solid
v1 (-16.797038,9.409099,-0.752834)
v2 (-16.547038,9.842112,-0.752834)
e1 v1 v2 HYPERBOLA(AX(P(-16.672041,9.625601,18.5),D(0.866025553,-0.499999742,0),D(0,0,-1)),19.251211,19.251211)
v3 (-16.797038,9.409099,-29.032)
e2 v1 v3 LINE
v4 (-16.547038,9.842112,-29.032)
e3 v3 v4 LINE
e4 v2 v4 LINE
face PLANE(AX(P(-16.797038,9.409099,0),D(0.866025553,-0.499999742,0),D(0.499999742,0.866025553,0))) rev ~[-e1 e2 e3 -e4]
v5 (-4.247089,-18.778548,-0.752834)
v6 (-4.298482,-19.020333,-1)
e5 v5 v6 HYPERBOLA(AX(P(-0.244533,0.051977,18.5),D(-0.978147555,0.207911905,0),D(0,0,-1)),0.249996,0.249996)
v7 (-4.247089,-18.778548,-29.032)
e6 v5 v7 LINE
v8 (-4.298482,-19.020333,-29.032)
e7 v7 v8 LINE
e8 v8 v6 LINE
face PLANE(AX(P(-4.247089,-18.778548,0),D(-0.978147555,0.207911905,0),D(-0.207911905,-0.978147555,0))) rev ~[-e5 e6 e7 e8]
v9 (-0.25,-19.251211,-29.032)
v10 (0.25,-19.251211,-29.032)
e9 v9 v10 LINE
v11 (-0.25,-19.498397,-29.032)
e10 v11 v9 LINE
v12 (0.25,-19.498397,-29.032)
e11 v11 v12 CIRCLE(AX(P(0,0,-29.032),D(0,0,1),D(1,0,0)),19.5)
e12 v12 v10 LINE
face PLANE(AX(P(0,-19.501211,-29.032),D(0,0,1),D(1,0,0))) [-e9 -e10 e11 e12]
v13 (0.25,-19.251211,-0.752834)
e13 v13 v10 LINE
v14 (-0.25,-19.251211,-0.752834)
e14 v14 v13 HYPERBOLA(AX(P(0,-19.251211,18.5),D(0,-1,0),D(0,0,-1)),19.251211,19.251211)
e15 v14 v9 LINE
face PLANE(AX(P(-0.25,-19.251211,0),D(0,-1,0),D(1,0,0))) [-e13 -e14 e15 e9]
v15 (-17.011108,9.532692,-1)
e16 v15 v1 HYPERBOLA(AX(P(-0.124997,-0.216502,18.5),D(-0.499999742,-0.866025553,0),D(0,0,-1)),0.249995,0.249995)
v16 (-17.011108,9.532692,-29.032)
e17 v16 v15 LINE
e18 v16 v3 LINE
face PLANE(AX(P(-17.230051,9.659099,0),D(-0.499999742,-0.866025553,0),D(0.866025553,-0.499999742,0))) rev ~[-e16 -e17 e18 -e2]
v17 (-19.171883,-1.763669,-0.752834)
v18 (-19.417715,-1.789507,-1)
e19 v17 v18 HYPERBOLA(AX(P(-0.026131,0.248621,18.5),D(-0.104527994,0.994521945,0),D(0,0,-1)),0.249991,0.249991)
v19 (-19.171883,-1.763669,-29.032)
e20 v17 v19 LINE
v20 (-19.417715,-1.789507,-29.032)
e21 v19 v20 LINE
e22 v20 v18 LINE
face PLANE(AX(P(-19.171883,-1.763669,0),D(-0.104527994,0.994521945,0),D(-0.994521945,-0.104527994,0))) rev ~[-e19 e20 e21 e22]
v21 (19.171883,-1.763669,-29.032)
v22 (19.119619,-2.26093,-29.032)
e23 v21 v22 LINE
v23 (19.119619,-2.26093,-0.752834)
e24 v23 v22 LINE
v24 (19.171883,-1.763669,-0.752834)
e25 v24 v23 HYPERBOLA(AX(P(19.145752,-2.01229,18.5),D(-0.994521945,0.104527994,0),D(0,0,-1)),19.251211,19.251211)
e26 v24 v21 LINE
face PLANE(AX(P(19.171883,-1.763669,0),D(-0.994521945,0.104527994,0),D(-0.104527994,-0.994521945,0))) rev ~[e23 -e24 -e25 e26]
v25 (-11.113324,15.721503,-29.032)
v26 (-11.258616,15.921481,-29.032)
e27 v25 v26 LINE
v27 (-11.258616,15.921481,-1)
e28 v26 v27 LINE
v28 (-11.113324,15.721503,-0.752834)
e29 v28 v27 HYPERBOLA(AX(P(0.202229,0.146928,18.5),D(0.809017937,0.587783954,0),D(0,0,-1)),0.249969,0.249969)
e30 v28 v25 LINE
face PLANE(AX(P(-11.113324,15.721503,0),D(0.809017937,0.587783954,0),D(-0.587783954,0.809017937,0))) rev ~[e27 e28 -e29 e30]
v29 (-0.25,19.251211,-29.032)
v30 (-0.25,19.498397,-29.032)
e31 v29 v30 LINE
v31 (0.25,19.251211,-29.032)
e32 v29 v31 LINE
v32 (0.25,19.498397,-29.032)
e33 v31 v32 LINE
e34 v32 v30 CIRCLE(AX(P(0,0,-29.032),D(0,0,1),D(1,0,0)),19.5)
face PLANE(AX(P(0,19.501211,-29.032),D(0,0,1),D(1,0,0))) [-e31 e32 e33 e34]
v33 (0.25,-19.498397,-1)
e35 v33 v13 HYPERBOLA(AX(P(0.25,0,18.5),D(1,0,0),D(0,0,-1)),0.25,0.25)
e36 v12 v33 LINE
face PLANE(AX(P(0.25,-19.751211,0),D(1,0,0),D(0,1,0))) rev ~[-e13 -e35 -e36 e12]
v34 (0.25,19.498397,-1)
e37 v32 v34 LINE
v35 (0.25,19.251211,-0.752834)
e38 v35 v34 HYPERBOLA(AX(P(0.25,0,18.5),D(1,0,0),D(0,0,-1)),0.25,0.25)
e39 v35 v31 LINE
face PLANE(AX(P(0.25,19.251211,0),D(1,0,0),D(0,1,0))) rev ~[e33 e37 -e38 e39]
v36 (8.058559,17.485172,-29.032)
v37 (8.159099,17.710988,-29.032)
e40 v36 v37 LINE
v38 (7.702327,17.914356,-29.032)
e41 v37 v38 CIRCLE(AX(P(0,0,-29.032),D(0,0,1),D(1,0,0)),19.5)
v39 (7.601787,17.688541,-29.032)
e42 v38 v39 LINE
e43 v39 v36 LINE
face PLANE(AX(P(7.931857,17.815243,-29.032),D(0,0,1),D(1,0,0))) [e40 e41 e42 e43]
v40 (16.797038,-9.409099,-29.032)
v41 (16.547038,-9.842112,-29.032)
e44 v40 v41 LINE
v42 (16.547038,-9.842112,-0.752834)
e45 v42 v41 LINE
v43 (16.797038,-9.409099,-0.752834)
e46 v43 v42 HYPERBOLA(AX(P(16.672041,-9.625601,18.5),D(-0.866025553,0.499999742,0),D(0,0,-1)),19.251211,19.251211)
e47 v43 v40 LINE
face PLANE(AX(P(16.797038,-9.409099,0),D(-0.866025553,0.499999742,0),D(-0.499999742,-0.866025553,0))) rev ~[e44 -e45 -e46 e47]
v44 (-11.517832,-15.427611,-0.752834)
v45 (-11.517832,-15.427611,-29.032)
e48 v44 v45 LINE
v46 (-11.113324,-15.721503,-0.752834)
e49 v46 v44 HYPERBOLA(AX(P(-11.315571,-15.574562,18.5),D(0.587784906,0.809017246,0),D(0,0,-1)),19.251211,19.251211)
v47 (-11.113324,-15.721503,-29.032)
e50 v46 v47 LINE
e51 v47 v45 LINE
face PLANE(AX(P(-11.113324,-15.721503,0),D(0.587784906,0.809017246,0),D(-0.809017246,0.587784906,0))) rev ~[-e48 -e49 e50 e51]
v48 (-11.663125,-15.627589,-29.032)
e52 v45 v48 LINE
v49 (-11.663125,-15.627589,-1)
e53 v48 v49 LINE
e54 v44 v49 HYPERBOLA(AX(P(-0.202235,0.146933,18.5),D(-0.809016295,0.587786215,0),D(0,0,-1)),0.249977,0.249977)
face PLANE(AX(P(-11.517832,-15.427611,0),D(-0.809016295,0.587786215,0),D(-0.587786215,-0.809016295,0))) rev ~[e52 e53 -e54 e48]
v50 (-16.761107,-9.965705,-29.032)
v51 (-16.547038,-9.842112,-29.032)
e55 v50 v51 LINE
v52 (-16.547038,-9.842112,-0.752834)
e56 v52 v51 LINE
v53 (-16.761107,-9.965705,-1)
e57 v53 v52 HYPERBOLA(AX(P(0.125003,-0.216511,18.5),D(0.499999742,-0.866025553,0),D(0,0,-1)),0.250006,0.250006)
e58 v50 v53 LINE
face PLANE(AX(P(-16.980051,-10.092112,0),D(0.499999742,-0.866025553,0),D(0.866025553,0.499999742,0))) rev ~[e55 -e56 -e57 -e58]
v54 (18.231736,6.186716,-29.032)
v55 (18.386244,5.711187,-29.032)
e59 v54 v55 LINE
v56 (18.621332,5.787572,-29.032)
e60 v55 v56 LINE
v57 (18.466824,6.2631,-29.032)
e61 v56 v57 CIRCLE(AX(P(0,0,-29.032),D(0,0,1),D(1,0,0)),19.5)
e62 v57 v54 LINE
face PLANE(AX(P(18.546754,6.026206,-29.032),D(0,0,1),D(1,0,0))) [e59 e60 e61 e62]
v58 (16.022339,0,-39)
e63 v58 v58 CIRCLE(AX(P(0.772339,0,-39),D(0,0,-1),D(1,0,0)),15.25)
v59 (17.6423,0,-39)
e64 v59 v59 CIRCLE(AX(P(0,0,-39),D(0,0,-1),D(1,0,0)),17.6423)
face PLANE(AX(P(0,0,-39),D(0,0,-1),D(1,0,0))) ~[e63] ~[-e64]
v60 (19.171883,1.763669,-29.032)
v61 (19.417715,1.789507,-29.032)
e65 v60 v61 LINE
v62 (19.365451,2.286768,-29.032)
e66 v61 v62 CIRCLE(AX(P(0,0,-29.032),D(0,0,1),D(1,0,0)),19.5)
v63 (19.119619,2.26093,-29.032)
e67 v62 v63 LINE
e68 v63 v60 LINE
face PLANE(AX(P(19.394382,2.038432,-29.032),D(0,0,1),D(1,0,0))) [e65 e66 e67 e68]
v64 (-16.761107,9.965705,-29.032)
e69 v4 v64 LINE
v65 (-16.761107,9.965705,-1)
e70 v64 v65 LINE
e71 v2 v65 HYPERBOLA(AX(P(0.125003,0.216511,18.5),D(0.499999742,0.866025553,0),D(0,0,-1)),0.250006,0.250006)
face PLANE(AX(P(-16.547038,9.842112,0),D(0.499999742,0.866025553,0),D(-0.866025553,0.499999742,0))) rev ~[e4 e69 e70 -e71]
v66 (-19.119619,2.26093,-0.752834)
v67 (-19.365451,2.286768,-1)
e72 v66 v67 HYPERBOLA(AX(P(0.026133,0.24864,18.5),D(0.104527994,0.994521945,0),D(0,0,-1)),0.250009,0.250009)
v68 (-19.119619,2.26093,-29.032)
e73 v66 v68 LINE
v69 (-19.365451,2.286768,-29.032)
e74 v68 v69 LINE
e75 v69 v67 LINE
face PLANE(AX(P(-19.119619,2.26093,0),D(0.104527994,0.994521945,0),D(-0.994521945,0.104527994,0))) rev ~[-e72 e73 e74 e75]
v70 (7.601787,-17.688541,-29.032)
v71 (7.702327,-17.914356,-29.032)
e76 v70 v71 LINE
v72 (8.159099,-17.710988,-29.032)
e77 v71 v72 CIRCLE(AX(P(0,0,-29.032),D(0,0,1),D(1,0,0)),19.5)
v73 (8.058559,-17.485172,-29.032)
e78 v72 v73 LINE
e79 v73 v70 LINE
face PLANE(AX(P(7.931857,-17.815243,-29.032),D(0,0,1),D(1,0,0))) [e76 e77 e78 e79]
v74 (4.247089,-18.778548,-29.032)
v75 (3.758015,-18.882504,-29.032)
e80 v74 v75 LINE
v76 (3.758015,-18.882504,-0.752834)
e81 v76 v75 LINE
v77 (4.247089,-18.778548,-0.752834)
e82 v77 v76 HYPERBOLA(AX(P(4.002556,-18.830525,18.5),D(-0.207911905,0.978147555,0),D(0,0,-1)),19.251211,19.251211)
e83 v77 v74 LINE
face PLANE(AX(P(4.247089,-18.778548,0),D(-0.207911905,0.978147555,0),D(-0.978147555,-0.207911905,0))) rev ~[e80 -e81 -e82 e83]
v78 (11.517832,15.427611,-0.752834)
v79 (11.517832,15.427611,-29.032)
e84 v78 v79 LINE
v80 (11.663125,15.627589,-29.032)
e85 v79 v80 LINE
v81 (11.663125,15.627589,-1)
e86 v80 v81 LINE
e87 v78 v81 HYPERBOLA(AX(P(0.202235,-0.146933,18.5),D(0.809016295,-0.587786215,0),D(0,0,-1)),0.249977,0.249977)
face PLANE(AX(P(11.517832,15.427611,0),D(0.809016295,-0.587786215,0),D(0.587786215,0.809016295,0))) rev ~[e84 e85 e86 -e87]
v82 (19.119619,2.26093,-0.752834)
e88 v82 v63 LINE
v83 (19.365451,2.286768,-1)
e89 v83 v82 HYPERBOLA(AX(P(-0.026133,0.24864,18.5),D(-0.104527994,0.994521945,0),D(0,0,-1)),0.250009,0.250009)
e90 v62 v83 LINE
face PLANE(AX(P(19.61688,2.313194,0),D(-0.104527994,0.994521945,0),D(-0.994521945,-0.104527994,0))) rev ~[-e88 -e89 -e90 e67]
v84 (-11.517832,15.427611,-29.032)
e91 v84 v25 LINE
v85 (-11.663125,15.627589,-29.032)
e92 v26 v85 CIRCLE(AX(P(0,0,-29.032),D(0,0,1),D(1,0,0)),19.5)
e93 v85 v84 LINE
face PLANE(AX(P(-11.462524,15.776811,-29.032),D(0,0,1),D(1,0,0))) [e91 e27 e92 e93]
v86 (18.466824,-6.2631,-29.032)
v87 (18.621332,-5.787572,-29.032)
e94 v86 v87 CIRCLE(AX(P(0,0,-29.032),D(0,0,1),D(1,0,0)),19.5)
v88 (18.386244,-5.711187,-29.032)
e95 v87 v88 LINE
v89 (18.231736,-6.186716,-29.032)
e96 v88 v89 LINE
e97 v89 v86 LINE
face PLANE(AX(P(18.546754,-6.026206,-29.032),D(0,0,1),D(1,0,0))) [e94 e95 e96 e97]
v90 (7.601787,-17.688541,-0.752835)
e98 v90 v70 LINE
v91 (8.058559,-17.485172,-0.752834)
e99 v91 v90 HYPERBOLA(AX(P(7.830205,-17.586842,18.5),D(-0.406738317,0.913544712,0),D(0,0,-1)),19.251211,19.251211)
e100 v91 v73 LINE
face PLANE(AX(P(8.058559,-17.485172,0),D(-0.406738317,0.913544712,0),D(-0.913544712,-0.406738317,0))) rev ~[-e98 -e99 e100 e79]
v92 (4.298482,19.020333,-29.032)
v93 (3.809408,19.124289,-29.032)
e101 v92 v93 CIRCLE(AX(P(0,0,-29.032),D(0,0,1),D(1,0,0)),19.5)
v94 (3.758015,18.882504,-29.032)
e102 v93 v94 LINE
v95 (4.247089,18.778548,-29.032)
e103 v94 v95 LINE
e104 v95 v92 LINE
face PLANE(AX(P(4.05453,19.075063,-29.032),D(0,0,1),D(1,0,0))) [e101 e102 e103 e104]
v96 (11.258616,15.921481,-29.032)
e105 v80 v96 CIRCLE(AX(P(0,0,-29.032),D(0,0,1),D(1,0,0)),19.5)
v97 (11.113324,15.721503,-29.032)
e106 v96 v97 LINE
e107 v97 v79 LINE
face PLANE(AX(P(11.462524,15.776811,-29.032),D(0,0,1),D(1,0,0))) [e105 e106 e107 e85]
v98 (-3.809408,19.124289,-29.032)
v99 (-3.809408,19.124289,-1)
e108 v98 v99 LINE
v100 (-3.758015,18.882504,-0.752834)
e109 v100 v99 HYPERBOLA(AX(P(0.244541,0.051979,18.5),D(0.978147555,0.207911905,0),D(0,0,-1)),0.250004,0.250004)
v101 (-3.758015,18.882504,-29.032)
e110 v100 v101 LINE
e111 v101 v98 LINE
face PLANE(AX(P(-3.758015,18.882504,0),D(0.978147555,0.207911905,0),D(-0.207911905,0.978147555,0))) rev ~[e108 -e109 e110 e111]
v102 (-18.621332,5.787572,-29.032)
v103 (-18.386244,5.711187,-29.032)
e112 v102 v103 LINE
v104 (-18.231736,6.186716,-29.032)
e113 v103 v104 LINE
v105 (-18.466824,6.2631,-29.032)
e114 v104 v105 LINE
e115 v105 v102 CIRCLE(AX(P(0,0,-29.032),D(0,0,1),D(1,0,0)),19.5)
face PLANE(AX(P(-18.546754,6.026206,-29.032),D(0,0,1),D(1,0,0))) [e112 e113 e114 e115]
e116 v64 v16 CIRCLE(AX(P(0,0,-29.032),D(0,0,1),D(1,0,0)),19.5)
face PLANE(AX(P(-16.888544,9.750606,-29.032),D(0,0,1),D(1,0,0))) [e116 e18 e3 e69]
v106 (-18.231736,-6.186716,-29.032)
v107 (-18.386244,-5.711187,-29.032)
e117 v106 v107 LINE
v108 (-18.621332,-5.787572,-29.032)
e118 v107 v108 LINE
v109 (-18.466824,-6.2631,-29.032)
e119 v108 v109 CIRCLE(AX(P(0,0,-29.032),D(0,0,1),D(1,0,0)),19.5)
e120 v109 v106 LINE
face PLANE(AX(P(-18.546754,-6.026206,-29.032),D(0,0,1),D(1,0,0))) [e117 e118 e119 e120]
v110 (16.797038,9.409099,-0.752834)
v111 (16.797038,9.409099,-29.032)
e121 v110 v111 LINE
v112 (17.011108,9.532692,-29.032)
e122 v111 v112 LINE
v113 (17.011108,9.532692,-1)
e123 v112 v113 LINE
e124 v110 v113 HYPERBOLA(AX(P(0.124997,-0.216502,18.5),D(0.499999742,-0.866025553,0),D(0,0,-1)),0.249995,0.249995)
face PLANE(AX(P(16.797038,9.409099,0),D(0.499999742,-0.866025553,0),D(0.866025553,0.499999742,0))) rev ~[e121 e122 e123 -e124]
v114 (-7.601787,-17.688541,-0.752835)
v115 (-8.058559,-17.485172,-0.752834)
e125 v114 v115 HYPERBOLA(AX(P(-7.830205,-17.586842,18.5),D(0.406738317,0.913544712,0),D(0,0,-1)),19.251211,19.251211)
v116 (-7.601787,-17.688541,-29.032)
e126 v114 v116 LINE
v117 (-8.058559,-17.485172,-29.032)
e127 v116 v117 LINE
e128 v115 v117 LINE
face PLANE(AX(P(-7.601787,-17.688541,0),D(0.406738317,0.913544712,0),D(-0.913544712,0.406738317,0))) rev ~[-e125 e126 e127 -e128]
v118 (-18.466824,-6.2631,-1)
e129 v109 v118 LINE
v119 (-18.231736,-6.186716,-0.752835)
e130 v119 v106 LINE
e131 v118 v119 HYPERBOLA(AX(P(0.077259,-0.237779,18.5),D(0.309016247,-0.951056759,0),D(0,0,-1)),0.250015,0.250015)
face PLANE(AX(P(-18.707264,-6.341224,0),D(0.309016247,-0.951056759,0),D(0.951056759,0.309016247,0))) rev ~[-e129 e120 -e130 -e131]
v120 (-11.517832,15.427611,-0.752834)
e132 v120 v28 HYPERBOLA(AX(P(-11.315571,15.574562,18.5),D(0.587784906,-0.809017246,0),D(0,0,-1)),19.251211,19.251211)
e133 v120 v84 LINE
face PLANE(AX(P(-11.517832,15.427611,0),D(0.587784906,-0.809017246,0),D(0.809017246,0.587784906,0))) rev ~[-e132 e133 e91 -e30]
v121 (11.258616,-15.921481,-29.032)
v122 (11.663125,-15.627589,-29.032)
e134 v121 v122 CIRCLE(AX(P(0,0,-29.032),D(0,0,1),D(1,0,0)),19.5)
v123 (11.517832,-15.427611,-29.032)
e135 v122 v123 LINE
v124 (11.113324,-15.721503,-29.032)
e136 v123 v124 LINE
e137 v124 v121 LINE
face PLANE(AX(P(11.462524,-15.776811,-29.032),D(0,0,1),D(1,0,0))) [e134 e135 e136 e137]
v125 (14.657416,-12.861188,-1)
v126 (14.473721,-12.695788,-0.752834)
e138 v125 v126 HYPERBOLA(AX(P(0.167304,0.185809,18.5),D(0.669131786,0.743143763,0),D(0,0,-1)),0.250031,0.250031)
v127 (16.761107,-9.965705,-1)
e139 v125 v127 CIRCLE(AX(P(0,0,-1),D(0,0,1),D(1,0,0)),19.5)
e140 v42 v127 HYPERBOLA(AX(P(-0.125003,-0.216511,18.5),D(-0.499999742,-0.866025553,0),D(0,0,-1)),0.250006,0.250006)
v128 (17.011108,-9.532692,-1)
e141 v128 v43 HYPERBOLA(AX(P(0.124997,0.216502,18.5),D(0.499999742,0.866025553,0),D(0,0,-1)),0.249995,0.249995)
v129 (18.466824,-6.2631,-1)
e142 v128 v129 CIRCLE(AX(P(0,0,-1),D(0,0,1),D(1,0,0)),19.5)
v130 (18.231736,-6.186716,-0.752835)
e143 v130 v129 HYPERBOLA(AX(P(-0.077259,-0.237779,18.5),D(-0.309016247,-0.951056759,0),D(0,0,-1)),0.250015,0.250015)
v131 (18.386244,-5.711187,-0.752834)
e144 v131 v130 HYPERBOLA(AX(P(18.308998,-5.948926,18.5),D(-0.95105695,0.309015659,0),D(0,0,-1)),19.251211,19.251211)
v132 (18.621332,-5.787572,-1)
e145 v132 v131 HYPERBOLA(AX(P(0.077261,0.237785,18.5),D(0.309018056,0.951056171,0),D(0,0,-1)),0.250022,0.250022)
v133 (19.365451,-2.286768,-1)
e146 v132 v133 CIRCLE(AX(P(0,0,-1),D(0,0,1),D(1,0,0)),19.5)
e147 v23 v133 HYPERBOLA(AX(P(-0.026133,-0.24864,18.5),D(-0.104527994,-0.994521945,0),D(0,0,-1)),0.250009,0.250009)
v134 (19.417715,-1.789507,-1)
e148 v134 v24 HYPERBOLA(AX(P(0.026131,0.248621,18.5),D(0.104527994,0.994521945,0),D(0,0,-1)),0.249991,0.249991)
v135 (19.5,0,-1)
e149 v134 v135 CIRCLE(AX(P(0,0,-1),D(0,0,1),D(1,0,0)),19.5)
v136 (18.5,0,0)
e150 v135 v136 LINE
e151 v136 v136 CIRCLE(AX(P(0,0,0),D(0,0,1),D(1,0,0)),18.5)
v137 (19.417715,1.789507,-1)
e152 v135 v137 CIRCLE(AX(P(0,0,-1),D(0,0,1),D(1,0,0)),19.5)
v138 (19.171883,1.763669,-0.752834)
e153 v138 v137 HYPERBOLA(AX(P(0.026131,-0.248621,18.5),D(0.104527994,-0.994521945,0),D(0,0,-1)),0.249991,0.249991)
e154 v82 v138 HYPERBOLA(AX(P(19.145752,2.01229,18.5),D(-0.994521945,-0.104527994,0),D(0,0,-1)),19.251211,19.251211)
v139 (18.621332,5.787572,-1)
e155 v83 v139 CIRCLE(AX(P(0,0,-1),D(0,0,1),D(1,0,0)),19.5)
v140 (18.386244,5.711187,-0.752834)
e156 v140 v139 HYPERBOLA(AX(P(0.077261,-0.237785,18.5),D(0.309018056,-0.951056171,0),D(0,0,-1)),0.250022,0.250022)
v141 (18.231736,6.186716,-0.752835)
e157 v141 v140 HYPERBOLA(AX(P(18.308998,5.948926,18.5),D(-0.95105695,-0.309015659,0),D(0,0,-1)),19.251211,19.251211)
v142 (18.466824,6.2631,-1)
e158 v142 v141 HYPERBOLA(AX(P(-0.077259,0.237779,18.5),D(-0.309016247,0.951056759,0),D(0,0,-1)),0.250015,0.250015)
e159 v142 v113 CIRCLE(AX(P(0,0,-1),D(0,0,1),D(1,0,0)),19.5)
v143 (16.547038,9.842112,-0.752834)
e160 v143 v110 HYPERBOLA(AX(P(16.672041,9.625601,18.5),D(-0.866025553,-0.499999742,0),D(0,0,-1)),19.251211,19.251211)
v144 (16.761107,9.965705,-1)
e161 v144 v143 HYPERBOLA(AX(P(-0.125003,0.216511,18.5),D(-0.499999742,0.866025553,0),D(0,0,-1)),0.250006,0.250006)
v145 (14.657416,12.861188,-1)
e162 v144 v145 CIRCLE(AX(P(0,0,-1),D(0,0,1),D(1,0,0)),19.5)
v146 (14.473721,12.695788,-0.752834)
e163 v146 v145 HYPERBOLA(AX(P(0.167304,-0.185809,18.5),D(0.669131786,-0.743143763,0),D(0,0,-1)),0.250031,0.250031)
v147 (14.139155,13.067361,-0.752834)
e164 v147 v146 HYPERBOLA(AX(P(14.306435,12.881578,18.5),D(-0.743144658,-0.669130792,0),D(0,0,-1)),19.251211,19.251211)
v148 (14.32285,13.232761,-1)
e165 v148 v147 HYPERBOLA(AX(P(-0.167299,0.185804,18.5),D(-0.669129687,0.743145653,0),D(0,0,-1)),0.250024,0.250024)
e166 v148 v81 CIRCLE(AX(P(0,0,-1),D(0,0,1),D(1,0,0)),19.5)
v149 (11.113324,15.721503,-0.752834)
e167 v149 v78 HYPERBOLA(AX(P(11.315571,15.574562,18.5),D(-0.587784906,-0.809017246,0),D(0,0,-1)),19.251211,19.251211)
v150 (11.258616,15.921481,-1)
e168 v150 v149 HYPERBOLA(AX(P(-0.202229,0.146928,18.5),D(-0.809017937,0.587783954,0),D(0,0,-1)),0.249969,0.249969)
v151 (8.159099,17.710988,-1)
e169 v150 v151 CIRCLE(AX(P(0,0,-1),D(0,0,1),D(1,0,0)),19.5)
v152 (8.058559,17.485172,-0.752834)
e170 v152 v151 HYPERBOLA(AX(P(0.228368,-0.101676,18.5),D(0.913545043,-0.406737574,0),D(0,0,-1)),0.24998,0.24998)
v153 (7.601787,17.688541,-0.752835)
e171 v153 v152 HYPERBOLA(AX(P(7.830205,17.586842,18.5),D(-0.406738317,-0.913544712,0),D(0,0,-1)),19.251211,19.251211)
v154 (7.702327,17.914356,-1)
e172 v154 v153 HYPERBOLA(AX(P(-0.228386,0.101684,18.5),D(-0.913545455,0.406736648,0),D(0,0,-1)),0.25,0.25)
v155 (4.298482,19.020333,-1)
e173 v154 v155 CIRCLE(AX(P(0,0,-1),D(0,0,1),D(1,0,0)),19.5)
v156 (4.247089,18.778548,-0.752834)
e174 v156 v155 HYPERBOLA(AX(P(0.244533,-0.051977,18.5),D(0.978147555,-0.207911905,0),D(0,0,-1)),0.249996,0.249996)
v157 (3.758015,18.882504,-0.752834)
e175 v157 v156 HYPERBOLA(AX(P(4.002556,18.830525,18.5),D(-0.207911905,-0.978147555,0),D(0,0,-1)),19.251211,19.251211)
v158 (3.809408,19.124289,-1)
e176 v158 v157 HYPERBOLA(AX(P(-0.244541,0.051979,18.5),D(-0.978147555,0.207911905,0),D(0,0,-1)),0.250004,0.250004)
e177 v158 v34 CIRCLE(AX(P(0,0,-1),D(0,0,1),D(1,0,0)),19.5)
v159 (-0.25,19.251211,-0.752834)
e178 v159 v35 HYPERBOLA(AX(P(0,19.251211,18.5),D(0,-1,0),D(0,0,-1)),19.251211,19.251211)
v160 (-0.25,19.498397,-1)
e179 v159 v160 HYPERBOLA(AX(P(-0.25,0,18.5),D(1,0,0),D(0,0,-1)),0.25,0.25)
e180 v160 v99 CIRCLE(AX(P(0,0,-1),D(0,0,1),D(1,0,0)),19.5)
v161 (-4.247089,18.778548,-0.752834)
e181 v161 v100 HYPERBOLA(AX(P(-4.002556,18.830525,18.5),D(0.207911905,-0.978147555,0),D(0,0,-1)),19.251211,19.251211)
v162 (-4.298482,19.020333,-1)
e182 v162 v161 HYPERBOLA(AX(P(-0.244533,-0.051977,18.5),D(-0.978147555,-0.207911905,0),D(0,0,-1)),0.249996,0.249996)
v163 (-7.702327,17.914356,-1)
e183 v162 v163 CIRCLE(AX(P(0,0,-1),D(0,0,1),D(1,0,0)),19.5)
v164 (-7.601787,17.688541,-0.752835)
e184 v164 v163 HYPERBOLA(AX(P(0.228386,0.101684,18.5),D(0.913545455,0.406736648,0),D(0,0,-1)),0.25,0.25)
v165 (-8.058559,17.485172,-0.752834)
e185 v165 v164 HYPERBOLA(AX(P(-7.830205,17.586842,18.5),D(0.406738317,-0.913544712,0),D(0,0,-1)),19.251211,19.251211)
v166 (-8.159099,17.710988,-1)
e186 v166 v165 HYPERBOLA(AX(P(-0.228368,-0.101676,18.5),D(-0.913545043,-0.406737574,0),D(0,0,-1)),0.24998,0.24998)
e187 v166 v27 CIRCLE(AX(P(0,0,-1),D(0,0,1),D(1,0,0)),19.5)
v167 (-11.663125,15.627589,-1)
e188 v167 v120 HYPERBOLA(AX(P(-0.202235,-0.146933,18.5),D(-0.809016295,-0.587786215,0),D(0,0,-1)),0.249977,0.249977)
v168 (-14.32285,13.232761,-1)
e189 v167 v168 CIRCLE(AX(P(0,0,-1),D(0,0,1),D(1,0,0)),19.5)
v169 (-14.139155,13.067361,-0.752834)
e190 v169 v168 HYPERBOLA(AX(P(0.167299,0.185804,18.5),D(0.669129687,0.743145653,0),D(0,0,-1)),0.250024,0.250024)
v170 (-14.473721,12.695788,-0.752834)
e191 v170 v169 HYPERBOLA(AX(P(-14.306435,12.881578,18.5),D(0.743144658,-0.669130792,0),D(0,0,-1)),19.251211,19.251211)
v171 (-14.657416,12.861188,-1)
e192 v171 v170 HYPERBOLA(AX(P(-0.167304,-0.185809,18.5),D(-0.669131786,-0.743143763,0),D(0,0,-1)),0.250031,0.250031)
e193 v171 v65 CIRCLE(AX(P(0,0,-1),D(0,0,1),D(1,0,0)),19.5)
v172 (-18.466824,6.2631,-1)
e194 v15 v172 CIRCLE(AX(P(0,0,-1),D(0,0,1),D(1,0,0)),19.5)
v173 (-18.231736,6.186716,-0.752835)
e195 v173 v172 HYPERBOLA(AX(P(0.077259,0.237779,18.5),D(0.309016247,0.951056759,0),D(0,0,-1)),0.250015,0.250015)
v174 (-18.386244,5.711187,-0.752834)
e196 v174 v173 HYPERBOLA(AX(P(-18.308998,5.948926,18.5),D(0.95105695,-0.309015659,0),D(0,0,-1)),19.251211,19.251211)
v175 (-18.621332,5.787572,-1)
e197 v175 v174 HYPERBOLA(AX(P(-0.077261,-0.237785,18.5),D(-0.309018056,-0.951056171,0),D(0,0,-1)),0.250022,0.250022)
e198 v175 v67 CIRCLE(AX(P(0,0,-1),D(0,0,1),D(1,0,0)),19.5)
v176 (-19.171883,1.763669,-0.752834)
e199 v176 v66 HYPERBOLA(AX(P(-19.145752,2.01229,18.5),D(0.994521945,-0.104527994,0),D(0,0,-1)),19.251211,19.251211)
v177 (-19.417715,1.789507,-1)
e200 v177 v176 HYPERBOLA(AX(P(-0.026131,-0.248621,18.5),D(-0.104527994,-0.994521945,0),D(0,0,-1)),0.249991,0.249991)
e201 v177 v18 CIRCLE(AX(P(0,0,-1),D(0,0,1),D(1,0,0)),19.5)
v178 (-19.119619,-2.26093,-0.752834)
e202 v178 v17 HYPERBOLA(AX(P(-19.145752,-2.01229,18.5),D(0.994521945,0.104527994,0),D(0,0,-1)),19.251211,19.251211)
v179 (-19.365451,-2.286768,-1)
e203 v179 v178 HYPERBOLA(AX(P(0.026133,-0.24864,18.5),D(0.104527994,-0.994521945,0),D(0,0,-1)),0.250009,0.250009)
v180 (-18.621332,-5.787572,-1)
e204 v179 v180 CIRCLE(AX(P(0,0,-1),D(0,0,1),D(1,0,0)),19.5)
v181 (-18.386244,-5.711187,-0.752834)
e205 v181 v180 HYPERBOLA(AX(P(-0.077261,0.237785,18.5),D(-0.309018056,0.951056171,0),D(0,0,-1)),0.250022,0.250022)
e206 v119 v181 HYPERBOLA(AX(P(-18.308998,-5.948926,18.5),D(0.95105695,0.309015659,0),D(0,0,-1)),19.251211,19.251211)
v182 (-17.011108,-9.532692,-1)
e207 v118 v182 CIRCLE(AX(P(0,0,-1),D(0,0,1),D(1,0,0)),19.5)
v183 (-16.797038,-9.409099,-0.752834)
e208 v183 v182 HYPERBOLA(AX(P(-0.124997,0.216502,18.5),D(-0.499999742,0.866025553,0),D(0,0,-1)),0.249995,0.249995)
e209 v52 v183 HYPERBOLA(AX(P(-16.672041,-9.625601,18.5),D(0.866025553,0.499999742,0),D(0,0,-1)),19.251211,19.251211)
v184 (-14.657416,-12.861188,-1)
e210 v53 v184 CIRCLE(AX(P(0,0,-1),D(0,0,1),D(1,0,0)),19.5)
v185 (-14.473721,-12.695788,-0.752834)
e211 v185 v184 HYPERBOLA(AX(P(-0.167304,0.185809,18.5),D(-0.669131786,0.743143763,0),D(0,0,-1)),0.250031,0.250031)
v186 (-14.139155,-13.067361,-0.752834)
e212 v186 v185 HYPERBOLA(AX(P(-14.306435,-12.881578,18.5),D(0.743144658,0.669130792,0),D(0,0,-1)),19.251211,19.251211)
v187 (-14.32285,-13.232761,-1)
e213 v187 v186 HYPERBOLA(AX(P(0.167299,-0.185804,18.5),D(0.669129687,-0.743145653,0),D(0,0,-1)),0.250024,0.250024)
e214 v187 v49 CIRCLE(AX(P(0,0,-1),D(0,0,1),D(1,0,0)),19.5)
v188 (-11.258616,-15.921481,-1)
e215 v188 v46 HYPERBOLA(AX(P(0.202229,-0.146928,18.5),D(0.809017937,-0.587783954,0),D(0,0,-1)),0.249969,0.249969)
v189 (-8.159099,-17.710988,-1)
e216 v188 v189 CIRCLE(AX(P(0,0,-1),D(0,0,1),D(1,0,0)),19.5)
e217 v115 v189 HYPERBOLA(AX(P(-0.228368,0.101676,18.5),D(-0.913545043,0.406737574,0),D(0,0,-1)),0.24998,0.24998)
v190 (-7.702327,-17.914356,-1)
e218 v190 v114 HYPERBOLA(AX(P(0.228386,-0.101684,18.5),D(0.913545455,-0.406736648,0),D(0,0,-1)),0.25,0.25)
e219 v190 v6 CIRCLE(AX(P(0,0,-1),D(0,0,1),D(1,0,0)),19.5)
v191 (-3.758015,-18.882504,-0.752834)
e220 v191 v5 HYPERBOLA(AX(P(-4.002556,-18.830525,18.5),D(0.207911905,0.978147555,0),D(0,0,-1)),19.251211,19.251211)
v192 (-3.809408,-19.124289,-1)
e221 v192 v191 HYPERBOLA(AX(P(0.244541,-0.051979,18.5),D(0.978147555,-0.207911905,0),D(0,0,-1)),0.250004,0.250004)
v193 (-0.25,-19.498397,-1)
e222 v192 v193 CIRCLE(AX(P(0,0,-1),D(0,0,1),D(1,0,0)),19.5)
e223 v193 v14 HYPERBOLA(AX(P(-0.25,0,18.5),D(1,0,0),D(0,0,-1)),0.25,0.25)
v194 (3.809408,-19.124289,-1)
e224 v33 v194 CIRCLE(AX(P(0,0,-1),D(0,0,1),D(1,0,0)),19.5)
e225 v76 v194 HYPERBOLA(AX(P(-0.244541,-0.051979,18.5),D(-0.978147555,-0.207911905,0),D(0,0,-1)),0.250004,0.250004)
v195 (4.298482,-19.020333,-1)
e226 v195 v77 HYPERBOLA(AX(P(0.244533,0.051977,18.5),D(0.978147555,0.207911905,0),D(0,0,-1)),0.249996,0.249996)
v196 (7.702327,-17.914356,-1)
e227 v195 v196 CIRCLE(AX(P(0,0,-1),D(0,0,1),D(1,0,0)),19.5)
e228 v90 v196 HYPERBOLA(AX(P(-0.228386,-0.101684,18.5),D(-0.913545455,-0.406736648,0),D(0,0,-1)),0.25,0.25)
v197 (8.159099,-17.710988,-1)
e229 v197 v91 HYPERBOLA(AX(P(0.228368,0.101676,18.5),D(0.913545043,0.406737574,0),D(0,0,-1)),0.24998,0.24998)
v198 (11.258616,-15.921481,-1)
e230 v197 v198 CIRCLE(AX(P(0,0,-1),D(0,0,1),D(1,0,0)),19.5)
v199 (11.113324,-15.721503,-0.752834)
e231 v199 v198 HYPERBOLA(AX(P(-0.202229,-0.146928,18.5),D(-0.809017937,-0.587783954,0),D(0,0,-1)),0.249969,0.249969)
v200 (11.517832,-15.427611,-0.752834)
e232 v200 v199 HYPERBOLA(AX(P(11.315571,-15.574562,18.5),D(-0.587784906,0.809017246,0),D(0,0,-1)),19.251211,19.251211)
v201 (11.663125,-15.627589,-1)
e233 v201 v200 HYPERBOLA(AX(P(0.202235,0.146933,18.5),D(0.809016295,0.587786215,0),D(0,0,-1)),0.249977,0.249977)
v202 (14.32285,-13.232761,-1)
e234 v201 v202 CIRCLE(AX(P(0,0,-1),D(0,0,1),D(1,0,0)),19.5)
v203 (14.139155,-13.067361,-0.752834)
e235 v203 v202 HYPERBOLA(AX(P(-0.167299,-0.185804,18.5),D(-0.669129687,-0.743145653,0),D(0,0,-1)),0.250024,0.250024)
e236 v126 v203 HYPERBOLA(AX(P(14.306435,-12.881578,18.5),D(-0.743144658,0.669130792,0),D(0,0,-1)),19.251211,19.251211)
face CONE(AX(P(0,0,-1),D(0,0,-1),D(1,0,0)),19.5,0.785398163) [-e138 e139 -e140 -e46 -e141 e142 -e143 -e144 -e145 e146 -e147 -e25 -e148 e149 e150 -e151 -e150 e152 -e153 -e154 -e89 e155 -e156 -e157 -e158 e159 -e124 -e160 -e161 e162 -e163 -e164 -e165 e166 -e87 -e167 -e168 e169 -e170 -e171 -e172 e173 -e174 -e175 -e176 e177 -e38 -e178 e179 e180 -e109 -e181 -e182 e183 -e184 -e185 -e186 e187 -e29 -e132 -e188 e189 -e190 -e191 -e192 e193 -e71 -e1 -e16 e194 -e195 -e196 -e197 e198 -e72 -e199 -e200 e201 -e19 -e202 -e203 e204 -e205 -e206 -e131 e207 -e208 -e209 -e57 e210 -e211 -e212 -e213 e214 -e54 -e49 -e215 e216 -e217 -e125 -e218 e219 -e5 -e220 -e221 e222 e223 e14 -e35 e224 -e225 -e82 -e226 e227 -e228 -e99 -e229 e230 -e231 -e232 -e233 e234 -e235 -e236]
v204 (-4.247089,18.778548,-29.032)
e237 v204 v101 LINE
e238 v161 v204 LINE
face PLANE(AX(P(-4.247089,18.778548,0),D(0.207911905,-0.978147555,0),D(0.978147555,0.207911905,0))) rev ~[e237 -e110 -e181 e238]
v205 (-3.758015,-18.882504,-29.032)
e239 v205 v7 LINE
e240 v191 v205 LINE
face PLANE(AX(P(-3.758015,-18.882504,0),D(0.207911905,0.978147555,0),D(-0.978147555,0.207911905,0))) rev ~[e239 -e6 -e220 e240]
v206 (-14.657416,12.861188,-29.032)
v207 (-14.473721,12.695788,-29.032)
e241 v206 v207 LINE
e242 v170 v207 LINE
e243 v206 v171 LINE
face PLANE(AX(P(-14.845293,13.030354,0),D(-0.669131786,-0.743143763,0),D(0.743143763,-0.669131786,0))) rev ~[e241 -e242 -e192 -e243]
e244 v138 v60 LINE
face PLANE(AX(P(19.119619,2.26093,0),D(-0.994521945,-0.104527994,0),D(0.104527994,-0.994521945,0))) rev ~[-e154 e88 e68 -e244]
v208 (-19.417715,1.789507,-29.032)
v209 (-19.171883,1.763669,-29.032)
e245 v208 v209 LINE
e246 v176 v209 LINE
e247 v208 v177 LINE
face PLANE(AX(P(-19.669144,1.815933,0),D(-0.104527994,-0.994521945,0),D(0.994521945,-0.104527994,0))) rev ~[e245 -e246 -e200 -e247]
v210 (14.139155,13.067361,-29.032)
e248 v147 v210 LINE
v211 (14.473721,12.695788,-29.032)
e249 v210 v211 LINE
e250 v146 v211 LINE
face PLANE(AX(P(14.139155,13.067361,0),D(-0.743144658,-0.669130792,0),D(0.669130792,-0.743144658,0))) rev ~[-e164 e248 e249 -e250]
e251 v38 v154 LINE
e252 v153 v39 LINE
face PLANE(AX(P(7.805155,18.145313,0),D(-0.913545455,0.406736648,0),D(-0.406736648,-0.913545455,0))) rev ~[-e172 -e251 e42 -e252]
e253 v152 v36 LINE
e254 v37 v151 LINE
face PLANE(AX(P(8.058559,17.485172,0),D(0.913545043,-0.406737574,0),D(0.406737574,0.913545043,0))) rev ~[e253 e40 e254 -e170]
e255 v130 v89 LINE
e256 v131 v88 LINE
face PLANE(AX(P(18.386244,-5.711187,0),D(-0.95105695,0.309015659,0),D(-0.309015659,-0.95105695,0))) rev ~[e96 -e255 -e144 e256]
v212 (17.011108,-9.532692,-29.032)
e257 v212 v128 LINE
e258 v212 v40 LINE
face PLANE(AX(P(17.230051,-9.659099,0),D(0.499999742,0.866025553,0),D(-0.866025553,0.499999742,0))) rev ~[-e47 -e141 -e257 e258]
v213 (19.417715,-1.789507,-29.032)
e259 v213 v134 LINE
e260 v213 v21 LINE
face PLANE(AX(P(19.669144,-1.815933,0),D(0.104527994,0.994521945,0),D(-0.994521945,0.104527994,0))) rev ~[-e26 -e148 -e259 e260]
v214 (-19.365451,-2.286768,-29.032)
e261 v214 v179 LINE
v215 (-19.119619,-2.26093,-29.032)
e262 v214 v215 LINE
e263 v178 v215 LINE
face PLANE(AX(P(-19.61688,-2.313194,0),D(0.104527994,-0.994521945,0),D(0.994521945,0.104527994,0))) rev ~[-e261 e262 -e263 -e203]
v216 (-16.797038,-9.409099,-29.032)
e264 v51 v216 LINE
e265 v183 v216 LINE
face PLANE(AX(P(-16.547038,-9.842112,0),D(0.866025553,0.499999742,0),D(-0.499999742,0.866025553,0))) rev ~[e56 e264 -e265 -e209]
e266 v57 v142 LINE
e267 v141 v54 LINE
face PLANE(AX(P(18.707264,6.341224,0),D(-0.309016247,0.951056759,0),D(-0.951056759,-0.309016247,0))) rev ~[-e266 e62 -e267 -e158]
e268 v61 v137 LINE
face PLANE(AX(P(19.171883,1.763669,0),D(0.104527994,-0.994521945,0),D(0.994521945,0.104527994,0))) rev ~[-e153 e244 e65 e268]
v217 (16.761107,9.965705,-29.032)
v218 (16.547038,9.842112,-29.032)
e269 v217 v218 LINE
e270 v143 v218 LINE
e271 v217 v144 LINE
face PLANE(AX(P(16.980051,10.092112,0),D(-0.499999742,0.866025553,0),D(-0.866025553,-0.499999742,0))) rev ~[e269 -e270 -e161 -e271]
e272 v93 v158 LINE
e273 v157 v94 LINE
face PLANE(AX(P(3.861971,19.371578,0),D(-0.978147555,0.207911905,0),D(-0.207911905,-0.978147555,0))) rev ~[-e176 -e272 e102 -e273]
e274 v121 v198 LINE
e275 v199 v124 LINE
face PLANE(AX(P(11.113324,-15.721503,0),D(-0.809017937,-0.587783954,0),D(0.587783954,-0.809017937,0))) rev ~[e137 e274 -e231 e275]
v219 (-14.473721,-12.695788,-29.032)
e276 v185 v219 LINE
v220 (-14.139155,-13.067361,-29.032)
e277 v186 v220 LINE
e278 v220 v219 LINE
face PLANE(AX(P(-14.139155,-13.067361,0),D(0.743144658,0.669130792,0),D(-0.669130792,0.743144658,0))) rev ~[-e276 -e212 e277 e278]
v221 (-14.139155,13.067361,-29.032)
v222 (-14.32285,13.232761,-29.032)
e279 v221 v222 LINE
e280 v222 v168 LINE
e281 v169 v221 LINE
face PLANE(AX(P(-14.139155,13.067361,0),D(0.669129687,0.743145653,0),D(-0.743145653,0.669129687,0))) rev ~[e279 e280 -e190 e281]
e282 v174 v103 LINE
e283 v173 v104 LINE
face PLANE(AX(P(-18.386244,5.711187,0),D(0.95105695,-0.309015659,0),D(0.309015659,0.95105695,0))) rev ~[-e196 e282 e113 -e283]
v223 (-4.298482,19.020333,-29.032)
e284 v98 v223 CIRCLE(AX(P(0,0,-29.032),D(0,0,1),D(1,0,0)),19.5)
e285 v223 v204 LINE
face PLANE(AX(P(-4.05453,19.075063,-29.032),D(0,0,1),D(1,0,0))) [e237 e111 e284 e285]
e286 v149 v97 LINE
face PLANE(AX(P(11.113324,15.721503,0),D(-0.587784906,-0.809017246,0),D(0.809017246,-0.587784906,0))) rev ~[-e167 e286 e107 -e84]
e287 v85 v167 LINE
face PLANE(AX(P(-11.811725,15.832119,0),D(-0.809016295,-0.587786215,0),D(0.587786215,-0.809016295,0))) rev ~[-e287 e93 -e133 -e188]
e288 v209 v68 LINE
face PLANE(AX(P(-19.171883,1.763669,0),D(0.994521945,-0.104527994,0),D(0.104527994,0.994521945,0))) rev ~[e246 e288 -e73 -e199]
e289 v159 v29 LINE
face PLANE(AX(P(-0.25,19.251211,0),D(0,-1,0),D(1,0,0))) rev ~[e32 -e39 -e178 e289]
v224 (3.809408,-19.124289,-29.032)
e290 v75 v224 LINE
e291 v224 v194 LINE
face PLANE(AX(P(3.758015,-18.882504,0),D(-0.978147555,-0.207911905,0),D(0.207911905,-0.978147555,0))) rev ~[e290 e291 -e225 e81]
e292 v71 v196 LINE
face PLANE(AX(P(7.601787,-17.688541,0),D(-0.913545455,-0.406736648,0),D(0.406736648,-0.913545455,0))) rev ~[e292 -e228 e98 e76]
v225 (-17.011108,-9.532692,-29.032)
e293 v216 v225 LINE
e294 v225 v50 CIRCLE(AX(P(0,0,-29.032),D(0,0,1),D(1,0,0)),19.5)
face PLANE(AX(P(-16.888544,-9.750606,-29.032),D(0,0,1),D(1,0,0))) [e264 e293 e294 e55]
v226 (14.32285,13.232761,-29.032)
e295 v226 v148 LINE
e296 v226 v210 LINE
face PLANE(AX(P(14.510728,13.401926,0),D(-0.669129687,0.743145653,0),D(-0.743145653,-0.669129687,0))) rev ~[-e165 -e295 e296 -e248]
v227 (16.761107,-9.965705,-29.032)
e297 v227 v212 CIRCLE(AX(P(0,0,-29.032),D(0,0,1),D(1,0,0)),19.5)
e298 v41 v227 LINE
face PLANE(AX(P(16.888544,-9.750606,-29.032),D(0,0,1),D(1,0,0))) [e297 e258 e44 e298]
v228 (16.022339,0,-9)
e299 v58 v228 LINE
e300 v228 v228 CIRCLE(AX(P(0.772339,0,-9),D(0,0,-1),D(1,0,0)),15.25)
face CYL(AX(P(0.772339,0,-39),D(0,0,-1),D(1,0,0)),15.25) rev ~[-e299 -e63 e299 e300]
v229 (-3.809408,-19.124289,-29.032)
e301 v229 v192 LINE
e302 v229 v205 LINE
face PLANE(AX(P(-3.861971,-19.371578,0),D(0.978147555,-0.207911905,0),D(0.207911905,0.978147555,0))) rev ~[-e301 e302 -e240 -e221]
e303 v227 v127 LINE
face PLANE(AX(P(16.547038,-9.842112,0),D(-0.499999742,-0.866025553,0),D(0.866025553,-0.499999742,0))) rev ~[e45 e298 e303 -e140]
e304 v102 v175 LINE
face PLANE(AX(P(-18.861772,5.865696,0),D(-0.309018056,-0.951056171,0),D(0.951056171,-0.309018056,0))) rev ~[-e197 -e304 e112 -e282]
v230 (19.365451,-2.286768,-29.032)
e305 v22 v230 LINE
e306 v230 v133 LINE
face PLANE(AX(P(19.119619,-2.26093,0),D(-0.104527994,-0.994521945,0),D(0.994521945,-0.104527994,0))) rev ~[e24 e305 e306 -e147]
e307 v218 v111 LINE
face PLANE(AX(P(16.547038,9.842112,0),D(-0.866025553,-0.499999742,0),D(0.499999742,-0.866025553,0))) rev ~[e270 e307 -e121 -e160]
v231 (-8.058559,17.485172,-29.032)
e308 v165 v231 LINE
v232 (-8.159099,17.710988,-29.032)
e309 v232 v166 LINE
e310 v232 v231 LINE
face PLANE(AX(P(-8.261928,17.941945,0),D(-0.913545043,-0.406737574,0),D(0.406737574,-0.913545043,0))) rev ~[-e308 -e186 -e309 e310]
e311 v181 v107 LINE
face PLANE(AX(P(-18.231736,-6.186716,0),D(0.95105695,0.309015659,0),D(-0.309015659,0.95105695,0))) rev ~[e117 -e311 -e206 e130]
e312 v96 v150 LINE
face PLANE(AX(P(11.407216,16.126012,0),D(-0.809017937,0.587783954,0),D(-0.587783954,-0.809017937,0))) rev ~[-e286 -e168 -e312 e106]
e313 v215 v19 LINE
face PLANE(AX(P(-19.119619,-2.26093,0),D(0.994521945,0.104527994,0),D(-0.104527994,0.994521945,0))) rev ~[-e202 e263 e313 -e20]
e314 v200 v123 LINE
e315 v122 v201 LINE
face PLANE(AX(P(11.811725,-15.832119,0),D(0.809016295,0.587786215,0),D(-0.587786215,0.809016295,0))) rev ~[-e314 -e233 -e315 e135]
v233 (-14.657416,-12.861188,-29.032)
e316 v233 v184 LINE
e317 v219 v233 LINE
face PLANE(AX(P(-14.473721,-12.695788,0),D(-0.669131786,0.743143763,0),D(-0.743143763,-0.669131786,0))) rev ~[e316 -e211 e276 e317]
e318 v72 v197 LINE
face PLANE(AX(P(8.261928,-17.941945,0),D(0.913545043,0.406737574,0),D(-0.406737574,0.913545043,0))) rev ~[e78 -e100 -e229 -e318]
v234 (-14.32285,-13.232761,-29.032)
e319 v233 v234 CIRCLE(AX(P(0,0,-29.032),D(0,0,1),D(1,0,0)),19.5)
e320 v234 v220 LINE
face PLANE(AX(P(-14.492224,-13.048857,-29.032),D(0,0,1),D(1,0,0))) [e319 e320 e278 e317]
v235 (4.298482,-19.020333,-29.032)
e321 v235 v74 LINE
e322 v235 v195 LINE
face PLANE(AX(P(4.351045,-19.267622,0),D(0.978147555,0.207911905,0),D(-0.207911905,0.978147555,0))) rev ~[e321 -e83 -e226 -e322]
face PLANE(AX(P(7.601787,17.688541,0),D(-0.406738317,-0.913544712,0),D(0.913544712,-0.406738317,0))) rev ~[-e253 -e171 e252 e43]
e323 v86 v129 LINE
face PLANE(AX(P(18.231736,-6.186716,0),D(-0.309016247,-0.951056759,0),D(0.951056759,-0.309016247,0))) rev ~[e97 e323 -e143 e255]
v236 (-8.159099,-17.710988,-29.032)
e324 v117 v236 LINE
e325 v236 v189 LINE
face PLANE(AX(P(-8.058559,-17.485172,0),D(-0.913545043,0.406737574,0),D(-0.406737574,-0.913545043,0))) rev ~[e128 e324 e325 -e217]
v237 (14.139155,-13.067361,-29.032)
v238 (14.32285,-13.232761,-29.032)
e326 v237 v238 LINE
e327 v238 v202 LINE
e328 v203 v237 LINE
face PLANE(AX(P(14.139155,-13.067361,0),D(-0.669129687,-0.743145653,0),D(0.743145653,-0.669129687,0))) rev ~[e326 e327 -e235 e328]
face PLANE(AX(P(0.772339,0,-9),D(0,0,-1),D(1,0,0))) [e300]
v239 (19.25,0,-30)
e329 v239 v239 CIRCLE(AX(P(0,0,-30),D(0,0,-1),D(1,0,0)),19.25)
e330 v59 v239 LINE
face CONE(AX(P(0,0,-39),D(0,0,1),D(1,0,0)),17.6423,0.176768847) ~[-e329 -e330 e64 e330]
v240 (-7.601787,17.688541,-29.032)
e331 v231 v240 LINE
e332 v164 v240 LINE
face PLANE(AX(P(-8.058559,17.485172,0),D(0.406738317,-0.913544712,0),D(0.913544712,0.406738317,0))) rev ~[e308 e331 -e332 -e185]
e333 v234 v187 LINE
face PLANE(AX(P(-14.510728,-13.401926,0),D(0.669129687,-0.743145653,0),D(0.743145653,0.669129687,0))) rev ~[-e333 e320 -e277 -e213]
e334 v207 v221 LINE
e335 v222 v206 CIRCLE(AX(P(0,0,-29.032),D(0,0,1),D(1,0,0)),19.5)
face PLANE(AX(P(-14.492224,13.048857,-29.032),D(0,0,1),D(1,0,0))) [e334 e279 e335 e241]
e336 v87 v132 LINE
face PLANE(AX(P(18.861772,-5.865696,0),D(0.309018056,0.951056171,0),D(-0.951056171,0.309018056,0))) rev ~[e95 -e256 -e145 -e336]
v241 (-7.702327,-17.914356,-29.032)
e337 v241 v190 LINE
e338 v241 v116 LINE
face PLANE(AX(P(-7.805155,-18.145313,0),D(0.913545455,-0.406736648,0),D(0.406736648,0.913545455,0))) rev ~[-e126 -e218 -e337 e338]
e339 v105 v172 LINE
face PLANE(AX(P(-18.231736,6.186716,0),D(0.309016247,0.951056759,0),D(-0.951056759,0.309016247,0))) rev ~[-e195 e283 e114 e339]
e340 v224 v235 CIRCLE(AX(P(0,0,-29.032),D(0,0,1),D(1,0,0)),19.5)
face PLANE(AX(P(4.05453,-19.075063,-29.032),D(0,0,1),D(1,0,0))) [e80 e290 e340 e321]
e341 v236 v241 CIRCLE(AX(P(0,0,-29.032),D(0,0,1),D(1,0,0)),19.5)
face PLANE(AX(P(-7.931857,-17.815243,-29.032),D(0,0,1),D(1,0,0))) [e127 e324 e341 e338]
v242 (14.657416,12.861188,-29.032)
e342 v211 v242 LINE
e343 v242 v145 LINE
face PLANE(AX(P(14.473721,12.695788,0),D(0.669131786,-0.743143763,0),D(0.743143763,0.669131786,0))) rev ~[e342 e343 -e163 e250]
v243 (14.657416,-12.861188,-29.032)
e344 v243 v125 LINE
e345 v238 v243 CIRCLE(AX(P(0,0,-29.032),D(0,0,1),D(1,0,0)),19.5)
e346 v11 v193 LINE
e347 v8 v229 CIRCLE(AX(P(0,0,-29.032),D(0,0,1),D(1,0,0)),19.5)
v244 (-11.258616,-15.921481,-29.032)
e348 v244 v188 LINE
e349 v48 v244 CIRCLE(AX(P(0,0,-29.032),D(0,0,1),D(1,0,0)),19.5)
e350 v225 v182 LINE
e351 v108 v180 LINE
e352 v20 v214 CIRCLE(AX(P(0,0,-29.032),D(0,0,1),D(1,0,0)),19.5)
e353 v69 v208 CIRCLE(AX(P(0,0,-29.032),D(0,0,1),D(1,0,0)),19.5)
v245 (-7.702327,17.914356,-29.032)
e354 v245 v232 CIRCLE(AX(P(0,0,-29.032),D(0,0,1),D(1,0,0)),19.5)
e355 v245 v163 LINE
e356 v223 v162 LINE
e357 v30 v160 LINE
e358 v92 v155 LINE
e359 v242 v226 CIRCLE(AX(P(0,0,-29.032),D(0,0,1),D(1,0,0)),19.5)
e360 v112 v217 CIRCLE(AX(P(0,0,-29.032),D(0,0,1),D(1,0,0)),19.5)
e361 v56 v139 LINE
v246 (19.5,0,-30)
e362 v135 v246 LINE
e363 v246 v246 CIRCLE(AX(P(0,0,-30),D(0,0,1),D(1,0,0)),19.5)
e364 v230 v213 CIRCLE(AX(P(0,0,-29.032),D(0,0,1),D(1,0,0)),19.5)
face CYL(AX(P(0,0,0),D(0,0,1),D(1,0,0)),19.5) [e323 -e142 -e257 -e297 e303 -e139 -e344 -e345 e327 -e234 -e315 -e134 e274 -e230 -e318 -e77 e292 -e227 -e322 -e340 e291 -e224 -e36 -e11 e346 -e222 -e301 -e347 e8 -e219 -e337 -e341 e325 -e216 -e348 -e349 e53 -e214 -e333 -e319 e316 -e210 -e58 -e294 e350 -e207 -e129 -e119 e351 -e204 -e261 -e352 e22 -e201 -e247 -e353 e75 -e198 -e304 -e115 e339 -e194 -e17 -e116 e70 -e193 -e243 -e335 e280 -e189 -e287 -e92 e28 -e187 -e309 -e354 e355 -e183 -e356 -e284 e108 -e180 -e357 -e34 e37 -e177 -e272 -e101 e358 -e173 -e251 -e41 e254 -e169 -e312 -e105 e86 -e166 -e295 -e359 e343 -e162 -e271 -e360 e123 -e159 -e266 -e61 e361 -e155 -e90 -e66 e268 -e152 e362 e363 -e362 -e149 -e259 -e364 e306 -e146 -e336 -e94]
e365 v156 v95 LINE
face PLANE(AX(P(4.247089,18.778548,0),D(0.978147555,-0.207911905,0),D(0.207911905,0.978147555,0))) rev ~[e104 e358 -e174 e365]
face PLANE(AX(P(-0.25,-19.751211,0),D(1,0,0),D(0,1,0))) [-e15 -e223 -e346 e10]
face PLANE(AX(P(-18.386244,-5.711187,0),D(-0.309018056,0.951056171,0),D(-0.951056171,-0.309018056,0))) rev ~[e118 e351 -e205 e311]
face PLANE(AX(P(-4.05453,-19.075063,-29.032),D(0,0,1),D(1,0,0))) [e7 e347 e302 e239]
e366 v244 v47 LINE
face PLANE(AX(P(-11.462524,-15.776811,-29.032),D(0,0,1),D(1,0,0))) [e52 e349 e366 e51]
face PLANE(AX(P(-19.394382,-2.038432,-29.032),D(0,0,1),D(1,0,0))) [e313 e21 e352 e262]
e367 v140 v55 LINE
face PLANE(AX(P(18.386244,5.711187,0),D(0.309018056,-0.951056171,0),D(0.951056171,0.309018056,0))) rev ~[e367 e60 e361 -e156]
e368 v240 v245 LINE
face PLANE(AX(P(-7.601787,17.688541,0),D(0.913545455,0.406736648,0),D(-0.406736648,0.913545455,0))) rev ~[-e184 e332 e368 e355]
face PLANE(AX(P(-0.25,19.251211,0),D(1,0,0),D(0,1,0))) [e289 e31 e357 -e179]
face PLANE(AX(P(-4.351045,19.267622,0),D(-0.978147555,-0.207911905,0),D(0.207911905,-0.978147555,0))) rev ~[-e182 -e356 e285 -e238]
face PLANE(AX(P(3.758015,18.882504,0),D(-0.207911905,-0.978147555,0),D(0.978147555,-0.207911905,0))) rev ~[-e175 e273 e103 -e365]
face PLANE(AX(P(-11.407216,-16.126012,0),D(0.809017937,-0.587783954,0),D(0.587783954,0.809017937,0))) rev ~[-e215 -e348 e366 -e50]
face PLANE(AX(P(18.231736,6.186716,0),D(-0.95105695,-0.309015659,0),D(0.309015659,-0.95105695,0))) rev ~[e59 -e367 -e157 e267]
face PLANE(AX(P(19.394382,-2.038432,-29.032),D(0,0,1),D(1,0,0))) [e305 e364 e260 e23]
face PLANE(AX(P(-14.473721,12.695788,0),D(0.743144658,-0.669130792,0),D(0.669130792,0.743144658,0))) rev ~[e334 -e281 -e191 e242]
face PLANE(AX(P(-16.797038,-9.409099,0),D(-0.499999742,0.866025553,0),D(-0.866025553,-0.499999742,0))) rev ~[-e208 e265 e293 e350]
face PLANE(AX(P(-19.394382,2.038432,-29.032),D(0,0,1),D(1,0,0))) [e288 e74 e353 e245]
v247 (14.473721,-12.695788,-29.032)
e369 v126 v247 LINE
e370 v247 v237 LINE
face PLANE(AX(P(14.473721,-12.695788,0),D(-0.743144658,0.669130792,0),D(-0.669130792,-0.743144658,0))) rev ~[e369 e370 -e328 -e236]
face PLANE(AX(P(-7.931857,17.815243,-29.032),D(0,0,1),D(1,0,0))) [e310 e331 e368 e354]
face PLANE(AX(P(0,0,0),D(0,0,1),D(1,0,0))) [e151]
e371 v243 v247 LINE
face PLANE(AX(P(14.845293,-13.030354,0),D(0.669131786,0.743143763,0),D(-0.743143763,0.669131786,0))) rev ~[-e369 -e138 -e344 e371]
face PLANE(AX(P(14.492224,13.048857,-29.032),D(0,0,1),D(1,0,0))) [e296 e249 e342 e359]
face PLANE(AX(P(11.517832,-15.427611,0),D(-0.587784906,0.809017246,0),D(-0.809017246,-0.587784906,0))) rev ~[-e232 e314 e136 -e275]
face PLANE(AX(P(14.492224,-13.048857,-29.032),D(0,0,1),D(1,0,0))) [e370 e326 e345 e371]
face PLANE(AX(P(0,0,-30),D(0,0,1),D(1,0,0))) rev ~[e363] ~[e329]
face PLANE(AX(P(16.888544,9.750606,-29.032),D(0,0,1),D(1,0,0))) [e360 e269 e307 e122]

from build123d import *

# Parameters (mm, degrees)
F0_R     = 19.5
F1_DEPTH = 30
F2_SIZE  = 1
F5_R     = 15.25
F6_DEPTH = 30
F7_W     = 0.5
F7_H     = 0.5
F8_DEPTH = 29.032


with BuildPart() as f1:
    # F0 (on Top) → F1 (new body)
    with BuildSketch(Plane.XY):
        Circle(F0_R)
    extrude(amount=-F1_DEPTH)

    # F2
    f2_edges = [f1.edges().sort_by_distance(p)[0] for p in [
        (-19.5, 0, 0),
    ]]
    chamfer(f2_edges, length=F2_SIZE)

    # F3 (on Front) → F4 (revolve)
    with BuildSketch(Plane.XZ):
        Polygon((19.25, -30), (0, -30), (0, -39), (17.6423, -39), align=None)
    revolve(axis=Axis((0, 0, -34.5), (0, 0, -1)))

    # F5 (on face) → F6 (cut)
    with BuildSketch(Plane(origin=(0, 0, -39), x_dir=(1, 0, 0), z_dir=(0, 0, -1))):
        with Locations((0.772339, 0)):
            Circle(F5_R)
    extrude(amount=-F6_DEPTH, mode=Mode.SUBTRACT)

    # F7 (on face) → F8 (cut)
    with BuildSketch(Plane.XY):
        with Locations((0, 19.501211)):
            Rectangle(F7_W, F7_H)
        Polygon((-4.351045, 19.267622), (-4.247089, 18.778548), (-3.758015, 18.882504), (-3.861971, 19.371578), align=None)
        Polygon((-8.261928, 17.941945), (-8.058559, 17.485172), (-7.601787, 17.688541), (-7.805155, 18.145313), align=None)
        Polygon((-11.811725, 15.832119), (-11.517832, 15.427611), (-11.113324, 15.721503), (-11.407216, 16.126012), align=None)
        Polygon((-14.845293, 13.030354), (-14.473721, 12.695788), (-14.139155, 13.067361), (-14.510728, 13.401926), align=None)
        Polygon((-17.230051, 9.659099), (-16.797038, 9.409099), (-16.547038, 9.842112), (-16.980051, 10.092112), align=None)
        Polygon((-18.861772, 5.865696), (-18.386244, 5.711187), (-18.231736, 6.186716), (-18.707264, 6.341224), align=None)
        Polygon((-19.669144, 1.815933), (-19.171883, 1.763669), (-19.119619, 2.26093), (-19.61688, 2.313194), align=None)
        Polygon((-19.61688, -2.313194), (-19.119619, -2.26093), (-19.171883, -1.763669), (-19.669144, -1.815933), align=None)
        Polygon((-18.707264, -6.341224), (-18.231736, -6.186716), (-18.386244, -5.711187), (-18.861772, -5.865696), align=None)
        Polygon((-16.980051, -10.092112), (-16.547038, -9.842112), (-16.797038, -9.409099), (-17.230051, -9.659099), align=None)
        Polygon((-14.510728, -13.401926), (-14.139155, -13.067361), (-14.473721, -12.695788), (-14.845293, -13.030354), align=None)
        Polygon((-11.407216, -16.126012), (-11.113324, -15.721503), (-11.517832, -15.427611), (-11.811725, -15.832119), align=None)
        Polygon((-7.805155, -18.145313), (-7.601787, -17.688541), (-8.058559, -17.485172), (-8.261928, -17.941945), align=None)
        Polygon((-3.861971, -19.371578), (-3.758015, -18.882504), (-4.247089, -18.778548), (-4.351045, -19.267622), align=None)
        with Locations((0, -19.501211)):
            Rectangle(F7_W, F7_H)
        Polygon((4.351045, -19.267622), (4.247089, -18.778548), (3.758015, -18.882504), (3.861971, -19.371578), align=None)
        Polygon((8.261928, -17.941945), (8.058559, -17.485172), (7.601787, -17.688541), (7.805155, -18.145313), align=None)
        Polygon((11.811725, -15.832119), (11.517832, -15.427611), (11.113324, -15.721503), (11.407216, -16.126012), align=None)
        Polygon((14.845293, -13.030354), (14.473721, -12.695788), (14.139155, -13.067361), (14.510728, -13.401926), align=None)
        Polygon((17.230051, -9.659099), (16.797038, -9.409099), (16.547038, -9.842112), (16.980051, -10.092112), align=None)
        Polygon((18.861772, -5.865696), (18.386244, -5.711187), (18.231736, -6.186716), (18.707264, -6.341224), align=None)
        Polygon((19.669144, -1.815933), (19.171883, -1.763669), (19.119619, -2.26093), (19.61688, -2.313194), align=None)
        Polygon((19.61688, 2.313194), (19.119619, 2.26093), (19.171883, 1.763669), (19.669144, 1.815933), align=None)
        Polygon((18.707264, 6.341224), (18.231736, 6.186716), (18.386244, 5.711187), (18.861772, 5.865696), align=None)
        Polygon((16.980051, 10.092112), (16.547038, 9.842112), (16.797038, 9.409099), (17.230051, 9.659099), align=None)
        Polygon((14.510728, 13.401926), (14.139155, 13.067361), (14.473721, 12.695788), (14.845293, 13.030354), align=None)
        Polygon((11.407216, 16.126012), (11.113324, 15.721503), (11.517832, 15.427611), (11.811725, 15.832119), align=None)
        Polygon((7.805155, 18.145313), (7.601787, 17.688541), (8.058559, 17.485172), (8.261928, 17.941945), align=None)
        Polygon((3.861971, 19.371578), (3.758015, 18.882504), (4.247089, 18.778548), (4.351045, 19.267622), align=None)
    extrude(amount=-F8_DEPTH, mode=Mode.SUBTRACT)


solid = f1.part
